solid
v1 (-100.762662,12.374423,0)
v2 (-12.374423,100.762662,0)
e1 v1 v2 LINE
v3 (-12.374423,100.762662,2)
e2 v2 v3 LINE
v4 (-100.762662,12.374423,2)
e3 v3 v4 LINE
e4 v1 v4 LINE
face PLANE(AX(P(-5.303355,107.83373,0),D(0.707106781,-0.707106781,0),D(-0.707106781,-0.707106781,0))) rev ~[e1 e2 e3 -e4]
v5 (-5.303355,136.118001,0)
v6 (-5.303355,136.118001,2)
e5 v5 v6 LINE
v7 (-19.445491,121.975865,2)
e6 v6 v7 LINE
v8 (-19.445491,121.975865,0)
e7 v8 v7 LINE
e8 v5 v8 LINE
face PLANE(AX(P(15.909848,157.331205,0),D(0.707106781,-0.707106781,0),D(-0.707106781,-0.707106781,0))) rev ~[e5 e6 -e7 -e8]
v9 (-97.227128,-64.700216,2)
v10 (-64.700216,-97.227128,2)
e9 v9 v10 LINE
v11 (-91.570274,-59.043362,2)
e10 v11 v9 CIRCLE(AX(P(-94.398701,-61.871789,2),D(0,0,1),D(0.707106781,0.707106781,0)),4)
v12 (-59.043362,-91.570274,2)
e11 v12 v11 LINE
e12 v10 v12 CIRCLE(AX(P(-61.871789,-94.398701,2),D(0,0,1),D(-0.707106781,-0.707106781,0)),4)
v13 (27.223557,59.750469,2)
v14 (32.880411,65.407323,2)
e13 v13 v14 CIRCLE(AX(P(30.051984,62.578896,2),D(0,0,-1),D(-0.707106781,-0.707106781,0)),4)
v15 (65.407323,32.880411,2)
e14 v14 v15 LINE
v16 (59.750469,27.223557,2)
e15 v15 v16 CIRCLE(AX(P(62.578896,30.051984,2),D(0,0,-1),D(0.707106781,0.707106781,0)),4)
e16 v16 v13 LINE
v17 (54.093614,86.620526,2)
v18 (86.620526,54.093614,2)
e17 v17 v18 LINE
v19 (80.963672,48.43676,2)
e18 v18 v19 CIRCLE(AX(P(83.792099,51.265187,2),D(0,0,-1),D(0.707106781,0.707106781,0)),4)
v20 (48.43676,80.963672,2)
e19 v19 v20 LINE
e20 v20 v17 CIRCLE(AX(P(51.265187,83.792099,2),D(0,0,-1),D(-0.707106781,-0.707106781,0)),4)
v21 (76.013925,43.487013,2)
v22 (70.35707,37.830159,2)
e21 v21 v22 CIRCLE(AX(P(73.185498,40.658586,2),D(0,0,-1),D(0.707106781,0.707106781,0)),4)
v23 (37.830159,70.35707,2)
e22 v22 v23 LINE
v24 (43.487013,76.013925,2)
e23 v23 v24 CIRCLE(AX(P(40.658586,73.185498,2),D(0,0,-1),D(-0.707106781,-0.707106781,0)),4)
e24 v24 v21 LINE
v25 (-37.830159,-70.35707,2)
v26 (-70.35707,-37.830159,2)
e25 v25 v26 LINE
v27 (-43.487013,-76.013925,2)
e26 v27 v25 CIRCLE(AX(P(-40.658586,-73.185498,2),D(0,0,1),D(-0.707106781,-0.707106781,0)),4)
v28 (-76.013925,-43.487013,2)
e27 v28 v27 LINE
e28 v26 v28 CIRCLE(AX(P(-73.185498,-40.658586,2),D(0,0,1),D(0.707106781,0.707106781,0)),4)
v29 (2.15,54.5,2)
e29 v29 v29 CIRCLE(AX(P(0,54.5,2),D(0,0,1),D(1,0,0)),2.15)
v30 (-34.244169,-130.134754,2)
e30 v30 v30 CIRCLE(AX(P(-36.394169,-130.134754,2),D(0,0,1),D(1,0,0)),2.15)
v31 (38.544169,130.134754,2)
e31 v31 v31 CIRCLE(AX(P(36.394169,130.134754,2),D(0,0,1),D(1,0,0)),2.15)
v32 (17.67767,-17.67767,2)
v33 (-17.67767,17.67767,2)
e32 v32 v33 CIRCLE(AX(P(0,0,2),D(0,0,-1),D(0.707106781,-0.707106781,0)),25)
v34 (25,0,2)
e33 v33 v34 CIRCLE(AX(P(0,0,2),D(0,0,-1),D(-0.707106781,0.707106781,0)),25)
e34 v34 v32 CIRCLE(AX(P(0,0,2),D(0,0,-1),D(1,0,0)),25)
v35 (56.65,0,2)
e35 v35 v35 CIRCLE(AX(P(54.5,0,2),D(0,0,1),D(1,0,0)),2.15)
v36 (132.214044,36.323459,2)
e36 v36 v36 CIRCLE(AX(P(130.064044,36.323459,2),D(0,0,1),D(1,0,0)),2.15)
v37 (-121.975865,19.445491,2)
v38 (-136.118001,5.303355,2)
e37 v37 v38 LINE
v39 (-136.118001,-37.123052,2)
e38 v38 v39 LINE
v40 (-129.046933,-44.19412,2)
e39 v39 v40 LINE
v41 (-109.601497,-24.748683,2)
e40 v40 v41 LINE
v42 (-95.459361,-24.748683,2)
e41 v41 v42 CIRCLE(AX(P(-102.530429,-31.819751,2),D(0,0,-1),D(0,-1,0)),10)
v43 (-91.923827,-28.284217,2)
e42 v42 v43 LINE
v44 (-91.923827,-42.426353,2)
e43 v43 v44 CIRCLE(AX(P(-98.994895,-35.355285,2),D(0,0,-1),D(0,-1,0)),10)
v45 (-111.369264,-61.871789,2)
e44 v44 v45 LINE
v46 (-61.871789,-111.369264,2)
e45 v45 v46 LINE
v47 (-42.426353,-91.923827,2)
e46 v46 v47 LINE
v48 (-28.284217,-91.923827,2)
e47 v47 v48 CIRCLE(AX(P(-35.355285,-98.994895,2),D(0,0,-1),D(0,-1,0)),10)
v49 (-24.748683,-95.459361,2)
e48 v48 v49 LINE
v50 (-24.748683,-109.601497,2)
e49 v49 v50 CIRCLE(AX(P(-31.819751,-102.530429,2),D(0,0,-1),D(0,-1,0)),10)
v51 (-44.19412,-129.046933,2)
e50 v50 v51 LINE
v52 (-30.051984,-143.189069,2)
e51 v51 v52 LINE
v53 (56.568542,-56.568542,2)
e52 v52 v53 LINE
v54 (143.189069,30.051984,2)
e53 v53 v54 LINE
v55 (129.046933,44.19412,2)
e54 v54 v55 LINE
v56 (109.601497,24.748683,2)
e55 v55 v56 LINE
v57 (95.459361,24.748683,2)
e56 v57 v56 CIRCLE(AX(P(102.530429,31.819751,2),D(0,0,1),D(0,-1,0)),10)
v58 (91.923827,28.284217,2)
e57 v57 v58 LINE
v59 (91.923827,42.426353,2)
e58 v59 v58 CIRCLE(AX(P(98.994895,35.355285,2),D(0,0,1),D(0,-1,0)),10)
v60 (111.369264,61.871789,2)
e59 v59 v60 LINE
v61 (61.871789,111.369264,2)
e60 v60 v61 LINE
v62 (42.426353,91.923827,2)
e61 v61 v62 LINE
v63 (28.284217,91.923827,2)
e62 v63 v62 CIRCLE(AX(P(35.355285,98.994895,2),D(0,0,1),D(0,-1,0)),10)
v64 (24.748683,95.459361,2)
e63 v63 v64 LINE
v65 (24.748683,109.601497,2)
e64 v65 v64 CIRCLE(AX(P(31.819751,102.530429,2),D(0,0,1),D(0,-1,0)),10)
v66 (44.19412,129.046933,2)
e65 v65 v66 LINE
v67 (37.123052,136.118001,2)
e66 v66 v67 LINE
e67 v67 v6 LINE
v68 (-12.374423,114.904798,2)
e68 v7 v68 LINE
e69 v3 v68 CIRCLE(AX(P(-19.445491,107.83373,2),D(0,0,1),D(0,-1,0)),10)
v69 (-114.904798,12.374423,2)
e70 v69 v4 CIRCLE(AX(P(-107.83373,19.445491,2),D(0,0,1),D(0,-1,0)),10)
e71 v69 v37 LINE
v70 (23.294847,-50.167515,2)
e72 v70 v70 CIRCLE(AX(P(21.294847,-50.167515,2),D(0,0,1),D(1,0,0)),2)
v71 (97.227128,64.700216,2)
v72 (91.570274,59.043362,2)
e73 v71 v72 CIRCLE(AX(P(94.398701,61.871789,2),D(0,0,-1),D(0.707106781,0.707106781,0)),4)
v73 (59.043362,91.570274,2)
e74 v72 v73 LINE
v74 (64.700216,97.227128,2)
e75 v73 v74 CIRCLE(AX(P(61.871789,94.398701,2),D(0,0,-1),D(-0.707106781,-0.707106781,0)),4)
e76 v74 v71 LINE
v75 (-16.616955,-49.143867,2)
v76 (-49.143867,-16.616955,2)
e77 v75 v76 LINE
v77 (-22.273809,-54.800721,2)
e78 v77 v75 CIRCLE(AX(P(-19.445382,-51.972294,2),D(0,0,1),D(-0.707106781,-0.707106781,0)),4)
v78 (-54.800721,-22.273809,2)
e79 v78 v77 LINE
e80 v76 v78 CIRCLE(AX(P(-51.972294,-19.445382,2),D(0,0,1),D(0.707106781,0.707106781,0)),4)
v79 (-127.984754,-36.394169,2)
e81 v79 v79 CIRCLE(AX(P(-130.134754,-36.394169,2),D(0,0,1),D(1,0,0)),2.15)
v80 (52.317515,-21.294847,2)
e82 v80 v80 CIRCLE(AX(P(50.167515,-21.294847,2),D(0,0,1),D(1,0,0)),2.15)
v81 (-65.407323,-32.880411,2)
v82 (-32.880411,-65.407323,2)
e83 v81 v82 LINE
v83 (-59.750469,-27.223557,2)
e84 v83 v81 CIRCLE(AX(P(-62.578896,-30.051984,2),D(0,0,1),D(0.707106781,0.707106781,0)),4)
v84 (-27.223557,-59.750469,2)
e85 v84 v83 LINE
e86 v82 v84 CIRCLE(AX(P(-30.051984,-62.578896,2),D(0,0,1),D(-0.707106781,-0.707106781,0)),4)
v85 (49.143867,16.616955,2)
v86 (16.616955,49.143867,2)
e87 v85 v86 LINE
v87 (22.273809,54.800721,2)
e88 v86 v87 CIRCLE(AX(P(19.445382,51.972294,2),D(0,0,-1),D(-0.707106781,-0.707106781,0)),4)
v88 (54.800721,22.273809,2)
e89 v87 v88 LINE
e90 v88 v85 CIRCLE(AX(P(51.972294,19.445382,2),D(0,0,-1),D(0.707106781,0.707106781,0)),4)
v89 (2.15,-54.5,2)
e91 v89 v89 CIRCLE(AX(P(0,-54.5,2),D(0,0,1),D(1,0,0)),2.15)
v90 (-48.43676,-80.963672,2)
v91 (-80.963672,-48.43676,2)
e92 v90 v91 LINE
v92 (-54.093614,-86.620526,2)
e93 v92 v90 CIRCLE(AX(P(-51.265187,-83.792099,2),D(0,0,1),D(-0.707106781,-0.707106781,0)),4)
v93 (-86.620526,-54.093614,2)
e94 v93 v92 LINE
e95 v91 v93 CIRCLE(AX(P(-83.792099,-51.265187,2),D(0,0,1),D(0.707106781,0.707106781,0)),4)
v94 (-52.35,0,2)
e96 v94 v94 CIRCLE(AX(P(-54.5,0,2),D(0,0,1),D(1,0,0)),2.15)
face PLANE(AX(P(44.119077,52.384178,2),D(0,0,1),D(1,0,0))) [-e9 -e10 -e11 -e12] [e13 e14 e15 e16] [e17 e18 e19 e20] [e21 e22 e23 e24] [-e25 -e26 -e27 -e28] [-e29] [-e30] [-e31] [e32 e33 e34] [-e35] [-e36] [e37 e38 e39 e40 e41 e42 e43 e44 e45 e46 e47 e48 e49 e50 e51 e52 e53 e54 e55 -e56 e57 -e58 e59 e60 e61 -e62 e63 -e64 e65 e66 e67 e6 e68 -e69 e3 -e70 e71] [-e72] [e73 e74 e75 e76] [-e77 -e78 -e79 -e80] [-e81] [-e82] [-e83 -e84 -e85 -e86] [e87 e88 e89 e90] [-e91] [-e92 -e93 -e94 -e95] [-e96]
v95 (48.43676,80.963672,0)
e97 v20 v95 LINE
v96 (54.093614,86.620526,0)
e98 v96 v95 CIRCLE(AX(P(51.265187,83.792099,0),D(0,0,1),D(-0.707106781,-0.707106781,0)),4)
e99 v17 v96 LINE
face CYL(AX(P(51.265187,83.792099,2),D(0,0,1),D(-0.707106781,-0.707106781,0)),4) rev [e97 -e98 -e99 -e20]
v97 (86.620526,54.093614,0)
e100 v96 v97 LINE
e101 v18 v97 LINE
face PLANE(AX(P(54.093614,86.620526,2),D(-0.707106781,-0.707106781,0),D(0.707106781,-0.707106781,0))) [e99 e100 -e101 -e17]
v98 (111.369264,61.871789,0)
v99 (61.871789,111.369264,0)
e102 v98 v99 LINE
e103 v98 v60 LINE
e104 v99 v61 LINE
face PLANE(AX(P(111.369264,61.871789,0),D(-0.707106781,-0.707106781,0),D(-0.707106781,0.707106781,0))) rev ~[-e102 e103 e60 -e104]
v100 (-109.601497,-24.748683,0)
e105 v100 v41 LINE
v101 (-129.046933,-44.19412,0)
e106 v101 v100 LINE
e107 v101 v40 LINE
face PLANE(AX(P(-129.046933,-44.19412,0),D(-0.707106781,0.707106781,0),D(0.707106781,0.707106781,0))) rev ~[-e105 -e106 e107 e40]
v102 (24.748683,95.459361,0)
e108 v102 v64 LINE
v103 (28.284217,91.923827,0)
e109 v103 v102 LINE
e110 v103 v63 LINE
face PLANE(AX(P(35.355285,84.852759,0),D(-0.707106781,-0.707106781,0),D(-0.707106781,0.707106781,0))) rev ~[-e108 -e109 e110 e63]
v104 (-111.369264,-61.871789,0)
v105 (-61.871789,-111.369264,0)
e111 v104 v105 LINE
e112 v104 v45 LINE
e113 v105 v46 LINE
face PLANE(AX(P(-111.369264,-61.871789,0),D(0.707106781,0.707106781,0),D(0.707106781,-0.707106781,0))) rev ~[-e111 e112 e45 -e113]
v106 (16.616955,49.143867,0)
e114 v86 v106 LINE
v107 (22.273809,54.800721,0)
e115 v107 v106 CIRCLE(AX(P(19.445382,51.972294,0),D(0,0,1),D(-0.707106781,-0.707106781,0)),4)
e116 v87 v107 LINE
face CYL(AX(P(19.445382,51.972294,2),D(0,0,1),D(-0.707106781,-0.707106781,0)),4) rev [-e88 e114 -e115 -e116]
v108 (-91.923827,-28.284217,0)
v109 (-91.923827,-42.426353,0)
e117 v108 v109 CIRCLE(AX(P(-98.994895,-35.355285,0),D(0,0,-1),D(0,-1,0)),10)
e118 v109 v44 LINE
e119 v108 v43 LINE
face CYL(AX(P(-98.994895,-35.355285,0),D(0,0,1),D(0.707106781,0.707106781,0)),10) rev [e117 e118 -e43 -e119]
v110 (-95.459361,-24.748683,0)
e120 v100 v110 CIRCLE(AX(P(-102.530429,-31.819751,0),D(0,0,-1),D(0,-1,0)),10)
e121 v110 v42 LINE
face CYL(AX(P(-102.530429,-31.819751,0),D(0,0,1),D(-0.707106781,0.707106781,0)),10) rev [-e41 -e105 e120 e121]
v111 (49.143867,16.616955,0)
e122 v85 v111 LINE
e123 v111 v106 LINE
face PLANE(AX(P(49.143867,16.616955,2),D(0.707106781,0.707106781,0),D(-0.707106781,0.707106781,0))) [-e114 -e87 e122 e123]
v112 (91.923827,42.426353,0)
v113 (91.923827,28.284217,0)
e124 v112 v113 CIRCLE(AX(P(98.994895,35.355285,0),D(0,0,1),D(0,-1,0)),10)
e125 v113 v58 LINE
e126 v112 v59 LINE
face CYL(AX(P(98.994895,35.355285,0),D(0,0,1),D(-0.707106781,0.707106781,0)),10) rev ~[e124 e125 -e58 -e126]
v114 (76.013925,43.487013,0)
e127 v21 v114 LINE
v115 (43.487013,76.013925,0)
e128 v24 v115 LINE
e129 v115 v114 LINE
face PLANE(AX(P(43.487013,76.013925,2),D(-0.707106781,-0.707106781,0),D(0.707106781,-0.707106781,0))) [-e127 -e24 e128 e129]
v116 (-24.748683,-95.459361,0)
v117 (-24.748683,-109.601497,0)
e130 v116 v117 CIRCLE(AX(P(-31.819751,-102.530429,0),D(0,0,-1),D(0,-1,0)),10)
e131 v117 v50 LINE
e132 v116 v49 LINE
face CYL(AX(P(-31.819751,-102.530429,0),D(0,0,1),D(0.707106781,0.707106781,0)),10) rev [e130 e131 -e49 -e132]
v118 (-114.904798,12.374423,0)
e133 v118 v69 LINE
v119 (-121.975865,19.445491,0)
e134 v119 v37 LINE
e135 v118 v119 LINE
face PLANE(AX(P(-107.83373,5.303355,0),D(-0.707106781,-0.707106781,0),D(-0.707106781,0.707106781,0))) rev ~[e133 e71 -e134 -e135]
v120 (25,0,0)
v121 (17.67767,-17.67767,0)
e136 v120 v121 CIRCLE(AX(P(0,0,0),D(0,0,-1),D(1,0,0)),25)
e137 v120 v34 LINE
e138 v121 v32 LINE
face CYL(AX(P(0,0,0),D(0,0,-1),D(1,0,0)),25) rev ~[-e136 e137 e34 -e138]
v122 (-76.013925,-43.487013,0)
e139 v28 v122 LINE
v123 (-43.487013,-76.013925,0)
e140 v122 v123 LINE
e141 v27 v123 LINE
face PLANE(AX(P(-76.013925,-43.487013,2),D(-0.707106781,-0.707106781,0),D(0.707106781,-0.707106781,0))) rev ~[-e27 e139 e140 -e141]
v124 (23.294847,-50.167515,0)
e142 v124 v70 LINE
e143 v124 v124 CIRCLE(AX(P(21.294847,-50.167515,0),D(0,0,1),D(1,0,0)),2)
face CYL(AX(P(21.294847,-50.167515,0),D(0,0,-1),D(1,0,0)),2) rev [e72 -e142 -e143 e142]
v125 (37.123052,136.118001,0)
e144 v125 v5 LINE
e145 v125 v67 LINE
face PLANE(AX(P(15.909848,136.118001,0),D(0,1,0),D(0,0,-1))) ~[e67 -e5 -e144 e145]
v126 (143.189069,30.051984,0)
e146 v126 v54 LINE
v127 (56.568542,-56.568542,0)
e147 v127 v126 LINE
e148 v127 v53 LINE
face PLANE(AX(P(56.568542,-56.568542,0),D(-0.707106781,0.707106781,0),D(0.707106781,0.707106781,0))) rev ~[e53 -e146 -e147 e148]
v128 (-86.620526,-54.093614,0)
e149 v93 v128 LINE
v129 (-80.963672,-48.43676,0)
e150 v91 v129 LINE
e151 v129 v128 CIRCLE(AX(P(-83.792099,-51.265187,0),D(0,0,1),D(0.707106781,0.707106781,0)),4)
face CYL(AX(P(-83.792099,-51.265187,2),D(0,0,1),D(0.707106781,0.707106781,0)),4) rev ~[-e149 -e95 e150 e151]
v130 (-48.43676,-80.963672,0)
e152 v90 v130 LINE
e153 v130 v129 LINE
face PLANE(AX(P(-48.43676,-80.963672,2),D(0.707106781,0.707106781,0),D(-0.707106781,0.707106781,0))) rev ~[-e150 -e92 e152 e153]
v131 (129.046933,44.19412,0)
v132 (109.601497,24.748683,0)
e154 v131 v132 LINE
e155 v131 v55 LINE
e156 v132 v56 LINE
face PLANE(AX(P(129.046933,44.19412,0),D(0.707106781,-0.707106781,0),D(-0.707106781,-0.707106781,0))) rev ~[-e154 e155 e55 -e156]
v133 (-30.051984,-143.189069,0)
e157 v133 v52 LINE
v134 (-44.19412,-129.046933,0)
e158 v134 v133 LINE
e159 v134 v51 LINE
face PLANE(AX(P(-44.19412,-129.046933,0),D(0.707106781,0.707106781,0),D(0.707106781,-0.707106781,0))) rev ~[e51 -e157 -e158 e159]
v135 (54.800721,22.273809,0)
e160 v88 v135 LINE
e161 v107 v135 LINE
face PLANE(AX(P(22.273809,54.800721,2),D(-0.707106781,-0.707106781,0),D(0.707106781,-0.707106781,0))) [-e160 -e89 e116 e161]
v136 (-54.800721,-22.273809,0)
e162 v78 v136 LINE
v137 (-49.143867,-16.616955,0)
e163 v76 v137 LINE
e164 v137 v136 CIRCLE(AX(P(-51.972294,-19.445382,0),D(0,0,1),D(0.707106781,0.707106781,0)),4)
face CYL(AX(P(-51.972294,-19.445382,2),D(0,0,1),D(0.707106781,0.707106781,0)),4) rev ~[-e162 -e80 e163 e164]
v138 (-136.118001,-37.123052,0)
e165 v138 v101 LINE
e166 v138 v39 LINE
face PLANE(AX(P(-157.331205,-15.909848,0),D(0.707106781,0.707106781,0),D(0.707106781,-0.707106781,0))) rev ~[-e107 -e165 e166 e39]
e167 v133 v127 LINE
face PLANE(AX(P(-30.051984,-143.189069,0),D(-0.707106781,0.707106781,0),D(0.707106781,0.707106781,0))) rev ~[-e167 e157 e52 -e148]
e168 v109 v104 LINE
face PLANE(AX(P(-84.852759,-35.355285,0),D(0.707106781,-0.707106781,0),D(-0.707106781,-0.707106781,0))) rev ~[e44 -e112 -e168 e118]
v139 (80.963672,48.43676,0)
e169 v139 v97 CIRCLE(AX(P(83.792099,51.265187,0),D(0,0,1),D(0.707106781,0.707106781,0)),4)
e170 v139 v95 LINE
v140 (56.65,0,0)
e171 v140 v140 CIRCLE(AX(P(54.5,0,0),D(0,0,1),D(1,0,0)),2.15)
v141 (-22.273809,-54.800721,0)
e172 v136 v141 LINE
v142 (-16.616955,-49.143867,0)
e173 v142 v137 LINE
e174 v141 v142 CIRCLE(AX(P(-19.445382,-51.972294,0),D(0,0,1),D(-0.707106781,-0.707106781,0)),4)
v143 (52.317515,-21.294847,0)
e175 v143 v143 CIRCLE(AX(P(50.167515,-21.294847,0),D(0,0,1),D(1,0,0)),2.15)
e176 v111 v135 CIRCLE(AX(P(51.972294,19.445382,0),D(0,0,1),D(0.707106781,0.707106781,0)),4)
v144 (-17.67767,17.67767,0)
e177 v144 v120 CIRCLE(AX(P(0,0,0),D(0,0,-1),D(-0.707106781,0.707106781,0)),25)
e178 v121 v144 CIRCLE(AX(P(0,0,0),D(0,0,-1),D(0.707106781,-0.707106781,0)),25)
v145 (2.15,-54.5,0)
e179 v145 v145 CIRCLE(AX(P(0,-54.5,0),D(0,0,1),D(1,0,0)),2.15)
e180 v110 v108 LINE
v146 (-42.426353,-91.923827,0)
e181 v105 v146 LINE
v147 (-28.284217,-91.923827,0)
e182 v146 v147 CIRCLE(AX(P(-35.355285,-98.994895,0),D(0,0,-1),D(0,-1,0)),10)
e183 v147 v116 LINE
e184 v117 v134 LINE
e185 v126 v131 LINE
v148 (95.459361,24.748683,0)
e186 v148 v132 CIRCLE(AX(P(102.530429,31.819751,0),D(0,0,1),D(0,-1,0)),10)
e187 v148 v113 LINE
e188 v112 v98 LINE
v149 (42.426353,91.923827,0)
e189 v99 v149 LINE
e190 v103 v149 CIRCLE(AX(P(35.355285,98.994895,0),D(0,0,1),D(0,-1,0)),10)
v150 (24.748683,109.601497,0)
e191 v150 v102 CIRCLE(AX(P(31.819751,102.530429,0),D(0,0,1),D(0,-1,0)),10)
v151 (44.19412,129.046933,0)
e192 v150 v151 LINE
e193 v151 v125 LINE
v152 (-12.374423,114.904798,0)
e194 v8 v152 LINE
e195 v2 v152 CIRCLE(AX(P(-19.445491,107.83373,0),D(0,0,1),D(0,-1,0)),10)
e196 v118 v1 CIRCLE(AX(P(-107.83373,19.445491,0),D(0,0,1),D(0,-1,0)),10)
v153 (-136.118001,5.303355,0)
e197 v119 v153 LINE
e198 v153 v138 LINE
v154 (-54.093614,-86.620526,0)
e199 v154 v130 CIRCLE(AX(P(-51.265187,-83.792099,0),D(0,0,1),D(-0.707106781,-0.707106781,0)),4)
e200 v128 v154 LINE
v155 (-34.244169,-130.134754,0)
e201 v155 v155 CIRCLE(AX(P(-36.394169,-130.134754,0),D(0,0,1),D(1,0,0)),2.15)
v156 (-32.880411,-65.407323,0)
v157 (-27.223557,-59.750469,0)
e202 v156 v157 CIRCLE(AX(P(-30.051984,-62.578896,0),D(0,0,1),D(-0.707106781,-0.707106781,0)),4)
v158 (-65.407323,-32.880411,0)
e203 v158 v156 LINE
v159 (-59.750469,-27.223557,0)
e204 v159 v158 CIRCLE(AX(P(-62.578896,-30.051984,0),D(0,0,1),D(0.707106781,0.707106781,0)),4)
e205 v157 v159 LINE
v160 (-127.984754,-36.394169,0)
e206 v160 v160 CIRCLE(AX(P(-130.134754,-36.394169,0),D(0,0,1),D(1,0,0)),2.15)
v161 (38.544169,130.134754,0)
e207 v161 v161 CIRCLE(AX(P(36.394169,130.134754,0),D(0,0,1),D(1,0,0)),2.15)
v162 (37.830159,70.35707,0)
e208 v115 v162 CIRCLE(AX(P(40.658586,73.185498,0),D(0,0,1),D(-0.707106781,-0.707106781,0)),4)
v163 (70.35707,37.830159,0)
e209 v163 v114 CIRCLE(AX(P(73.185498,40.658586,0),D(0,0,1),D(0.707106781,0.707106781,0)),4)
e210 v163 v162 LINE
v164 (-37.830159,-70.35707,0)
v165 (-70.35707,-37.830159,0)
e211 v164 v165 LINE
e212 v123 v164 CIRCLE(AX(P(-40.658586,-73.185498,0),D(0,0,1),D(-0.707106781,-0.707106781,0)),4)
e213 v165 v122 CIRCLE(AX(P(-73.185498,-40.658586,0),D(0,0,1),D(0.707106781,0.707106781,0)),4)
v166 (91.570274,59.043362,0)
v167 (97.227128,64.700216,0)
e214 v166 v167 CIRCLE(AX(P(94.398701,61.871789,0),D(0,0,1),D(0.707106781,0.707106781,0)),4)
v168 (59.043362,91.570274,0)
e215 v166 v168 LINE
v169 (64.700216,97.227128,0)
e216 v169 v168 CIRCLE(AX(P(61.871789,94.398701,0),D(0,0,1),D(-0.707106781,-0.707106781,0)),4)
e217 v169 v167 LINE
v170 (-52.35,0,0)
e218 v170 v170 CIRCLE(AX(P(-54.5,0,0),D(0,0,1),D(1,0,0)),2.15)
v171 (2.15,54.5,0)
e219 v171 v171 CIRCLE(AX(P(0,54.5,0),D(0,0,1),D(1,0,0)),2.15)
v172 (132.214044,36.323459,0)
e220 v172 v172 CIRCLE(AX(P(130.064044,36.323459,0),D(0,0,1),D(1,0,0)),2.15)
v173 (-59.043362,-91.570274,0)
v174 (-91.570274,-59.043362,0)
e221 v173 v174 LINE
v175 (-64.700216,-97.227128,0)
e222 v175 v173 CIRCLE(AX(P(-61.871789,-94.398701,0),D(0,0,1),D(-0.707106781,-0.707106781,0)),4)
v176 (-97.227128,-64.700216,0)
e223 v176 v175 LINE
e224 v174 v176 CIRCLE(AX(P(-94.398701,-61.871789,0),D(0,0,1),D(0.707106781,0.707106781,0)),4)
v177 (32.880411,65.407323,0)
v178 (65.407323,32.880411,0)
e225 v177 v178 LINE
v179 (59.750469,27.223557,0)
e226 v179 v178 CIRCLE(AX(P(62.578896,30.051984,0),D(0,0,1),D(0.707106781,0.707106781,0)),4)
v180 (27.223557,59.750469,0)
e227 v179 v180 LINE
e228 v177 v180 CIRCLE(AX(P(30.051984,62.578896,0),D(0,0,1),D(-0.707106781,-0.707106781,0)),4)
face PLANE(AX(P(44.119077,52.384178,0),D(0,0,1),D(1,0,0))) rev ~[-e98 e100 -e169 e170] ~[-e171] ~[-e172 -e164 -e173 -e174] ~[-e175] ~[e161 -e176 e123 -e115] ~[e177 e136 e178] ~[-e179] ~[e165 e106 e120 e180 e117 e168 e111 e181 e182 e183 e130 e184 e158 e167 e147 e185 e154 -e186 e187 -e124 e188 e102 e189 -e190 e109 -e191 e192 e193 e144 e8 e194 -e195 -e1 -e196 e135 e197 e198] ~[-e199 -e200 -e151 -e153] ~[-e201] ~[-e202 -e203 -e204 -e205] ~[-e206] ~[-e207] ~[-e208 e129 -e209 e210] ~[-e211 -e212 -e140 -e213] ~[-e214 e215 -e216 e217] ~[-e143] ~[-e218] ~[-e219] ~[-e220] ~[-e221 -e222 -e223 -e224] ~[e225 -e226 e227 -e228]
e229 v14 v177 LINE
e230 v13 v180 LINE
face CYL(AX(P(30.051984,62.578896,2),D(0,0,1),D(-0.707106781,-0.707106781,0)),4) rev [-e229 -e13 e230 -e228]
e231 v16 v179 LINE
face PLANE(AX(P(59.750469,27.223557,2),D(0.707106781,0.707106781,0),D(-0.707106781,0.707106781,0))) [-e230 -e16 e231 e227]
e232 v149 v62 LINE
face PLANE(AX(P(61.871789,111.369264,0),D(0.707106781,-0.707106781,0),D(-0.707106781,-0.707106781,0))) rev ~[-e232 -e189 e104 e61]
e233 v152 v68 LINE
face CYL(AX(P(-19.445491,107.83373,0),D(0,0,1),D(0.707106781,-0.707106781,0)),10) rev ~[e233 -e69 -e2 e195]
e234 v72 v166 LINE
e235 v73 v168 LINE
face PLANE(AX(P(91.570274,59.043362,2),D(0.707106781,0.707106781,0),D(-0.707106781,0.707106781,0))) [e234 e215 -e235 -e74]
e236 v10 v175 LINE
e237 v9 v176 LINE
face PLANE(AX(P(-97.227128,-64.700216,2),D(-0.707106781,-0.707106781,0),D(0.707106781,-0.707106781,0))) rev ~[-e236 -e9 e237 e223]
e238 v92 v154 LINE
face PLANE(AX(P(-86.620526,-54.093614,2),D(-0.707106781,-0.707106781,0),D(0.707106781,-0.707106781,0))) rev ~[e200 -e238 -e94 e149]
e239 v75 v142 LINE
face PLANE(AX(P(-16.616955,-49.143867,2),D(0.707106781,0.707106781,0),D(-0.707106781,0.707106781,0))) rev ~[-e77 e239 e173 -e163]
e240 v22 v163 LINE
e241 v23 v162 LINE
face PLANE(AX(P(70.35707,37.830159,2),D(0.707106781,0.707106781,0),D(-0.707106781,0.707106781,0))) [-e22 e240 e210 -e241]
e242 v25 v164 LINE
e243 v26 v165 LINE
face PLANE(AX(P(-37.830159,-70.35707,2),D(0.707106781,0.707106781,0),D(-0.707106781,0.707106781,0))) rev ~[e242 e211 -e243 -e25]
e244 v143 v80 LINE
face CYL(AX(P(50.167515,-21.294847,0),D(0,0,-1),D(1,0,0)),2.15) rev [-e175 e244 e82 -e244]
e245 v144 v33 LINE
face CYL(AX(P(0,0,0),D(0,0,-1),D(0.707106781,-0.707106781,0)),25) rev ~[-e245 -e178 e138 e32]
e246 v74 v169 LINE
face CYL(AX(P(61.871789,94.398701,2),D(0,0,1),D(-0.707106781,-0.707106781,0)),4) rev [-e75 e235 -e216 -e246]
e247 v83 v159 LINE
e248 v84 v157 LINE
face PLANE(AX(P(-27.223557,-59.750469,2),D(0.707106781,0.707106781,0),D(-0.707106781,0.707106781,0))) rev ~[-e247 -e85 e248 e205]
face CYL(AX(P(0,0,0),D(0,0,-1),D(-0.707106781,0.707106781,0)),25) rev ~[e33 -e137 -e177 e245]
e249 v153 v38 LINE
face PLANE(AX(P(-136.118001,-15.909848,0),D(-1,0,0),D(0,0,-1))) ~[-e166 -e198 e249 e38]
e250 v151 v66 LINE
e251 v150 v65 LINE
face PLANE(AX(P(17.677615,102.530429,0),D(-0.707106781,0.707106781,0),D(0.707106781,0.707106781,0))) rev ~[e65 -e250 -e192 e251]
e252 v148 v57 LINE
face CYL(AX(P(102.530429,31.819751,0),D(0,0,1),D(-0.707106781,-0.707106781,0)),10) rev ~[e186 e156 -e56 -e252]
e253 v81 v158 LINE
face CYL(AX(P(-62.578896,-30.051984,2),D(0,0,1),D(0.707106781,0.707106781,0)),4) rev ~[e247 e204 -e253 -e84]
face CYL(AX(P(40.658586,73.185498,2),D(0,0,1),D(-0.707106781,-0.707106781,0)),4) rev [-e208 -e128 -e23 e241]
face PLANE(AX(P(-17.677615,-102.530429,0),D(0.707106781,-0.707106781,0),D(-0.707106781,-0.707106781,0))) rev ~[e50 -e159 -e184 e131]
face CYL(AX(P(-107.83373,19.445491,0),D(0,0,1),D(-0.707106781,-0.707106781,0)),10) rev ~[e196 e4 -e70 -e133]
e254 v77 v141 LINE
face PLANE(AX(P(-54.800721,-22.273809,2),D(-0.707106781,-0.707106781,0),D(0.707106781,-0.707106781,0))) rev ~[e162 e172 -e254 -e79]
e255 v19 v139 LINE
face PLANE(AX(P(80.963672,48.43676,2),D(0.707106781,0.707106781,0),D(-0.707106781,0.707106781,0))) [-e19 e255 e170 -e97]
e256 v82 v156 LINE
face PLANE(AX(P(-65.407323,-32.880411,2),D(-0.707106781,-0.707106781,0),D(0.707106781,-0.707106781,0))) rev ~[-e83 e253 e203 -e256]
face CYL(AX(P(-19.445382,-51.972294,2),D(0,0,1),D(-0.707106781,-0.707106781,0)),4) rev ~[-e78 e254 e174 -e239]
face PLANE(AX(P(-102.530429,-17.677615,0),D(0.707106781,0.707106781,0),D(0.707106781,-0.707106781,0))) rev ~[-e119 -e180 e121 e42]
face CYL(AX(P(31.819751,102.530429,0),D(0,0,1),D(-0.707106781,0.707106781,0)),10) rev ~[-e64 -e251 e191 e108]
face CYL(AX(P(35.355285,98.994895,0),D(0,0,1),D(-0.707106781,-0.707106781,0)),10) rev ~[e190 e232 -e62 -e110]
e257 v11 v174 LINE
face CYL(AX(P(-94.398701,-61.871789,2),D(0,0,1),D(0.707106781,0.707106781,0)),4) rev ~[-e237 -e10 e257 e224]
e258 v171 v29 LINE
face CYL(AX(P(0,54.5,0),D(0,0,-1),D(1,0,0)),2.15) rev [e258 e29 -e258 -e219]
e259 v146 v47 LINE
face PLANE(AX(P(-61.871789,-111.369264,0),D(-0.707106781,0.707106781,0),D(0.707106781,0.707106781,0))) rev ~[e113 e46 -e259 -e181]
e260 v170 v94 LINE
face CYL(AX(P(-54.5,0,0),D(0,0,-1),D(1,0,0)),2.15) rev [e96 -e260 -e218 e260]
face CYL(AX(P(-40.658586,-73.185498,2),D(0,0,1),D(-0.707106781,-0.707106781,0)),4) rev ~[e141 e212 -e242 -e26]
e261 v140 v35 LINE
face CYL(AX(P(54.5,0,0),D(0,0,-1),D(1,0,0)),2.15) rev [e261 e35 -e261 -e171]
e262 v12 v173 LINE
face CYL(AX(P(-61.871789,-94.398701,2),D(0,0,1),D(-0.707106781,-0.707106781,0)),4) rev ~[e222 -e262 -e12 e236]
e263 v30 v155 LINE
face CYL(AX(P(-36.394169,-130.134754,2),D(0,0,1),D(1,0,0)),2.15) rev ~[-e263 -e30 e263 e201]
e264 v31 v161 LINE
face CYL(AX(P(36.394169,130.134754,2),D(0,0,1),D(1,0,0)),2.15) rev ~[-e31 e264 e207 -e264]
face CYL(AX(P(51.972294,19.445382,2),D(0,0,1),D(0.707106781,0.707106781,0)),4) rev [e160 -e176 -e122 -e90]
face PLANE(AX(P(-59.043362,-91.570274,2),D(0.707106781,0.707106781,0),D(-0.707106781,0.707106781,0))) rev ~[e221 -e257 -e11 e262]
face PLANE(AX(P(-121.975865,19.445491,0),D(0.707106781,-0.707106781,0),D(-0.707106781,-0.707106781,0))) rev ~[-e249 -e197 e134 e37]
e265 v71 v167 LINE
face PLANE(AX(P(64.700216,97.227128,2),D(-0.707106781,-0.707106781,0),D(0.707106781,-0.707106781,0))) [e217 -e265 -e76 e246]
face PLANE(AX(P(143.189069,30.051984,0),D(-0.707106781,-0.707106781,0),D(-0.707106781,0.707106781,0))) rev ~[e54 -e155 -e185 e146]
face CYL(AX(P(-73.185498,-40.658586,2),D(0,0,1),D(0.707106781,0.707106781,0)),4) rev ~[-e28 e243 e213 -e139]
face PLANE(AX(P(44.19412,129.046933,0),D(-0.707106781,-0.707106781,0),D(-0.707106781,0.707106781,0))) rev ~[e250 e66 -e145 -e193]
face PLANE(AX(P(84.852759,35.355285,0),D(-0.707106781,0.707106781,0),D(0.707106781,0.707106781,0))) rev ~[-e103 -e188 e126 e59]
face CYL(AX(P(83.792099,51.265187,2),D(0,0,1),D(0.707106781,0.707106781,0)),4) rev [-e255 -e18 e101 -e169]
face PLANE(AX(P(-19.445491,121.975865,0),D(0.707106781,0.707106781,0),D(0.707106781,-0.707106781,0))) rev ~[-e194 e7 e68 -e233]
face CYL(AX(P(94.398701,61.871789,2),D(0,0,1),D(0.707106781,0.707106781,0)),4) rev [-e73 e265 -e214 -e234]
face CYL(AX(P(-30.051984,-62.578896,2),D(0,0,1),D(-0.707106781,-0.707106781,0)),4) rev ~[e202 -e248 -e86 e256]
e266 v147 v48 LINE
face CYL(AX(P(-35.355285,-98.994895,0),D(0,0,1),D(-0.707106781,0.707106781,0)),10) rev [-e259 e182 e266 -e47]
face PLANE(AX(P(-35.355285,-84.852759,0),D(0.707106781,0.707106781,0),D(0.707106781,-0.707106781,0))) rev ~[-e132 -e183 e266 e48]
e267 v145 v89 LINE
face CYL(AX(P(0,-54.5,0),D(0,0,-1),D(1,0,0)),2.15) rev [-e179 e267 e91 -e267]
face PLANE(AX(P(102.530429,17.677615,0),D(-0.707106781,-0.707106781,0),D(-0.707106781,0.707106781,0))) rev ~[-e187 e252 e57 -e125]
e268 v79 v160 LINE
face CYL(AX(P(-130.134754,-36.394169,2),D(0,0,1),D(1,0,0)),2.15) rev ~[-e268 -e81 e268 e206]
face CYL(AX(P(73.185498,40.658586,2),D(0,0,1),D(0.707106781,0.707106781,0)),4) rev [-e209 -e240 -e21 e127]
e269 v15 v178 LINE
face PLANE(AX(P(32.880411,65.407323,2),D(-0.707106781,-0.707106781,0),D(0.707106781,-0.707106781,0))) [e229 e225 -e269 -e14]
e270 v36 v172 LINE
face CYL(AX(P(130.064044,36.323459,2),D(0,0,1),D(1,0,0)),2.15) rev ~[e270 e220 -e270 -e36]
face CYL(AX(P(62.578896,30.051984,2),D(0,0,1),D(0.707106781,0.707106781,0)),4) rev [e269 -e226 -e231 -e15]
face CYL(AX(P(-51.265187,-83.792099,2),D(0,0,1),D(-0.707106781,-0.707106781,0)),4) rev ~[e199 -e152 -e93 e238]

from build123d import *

# Parameters (mm, degrees)
SKETCH1_R          = 2.15
SKETCH1_R_2        = 2
EXTRUDE1_DEPTH     = 2
FILLET1_R          = 10
FILLET2_R          = 10
CHAMFER1_SIZE      = 30
SKETCH3_R          = 2.15
CUT_EXTRUDE1_DEPTH = 3
CUT_EXTRUDE2_DEPTH = 10


with BuildPart() as part:
    # Sketch1 → Extrude1 (new body)
    # profile 1 of 2: a face of its own
    with BuildSketch(Plane.XY):
        with BuildLine():
            Line((-17.67766953, 17.67766953), (-56.568542495, 56.568542495))
            Line((-56.568542495, 56.568542495), (-107.833729857, 5.303355133))
            Line((-107.833729857, 5.303355133), (-121.975865481, 19.445490757))
            Line((-121.975865481, 19.445490757), (-157.33120454, -15.909848303))
            Line((-157.33120454, -15.909848303), (-129.046933293, -44.19411955))
            Line((-129.046933293, -44.19411955), (-102.530428998, -17.677615256))
            Line((-102.530428998, -17.677615256), (-84.852759469, -35.355284785))
            Line((-84.852759469, -35.355284785), (-111.369263763, -61.87178908))
            Line((-111.369263763, -61.87178908), (-110.869178063, -62.37187478))
            Line((-110.869178063, -62.37187478), (-61.87178908, -111.369263763))
            Line((-61.87178908, -111.369263763), (-35.355284785, -84.852759468))
            Line((-35.355284785, -84.852759468), (-17.677615256, -102.530428998))
            Line((-17.677615256, -102.530428998), (-44.19411955, -129.046933293))
            Line((-44.19411955, -129.046933293), (-30.051983927, -143.189068916))
            Line((-30.051983927, -143.189068916), (56.568542495, -56.568542495))
            Line((56.568542495, -56.568542495), (17.67766953, -17.67766953))
            ThreePointArc((17.67766953, -17.67766953), (-17.67766953, -17.67766953), (-17.67766953, 17.67766953))
        make_face()
        with Locations((-54.5, 0)):
            Circle(SKETCH1_R, mode=Mode.SUBTRACT)
        with Locations((0, -54.5)):
            Circle(SKETCH1_R, mode=Mode.SUBTRACT)
        with Locations((21.294846503, -50.167514513)):
            Circle(SKETCH1_R_2, mode=Mode.SUBTRACT)
    # profile 2 of 2: a face of its own
    with BuildSketch(Plane.XY):
        with BuildLine():
            Line((17.677615256, 102.530428998), (44.19411955, 129.046933293))
            Line((44.19411955, 129.046933293), (15.909848303, 157.33120454))
            Line((15.909848303, 157.33120454), (-19.445490757, 121.975865481))
            Line((-19.445490757, 121.975865481), (-5.303355133, 107.833729857))
            Line((-5.303355133, 107.833729857), (-56.568542495, 56.568542495))
            Line((-56.568542495, 56.568542495), (-17.67766953, 17.67766953))
            ThreePointArc((-17.67766953, 17.67766953), (9.567085809, 23.096988313), (25, 0))
            ThreePointArc((25, 0), (23.096988313, -9.567085809), (17.67766953, -17.67766953))
            Line((17.67766953, -17.67766953), (56.568542495, -56.568542495))
            Line((56.568542495, -56.568542495), (143.189068916, 30.051983927))
            Line((143.189068916, 30.051983927), (129.046933293, 44.19411955))
            Line((129.046933293, 44.19411955), (102.530428998, 17.677615256))
            Line((102.530428998, 17.677615256), (84.852759469, 35.355284785))
            Line((84.852759469, 35.355284785), (111.369263763, 61.87178908))
            Line((111.369263763, 61.87178908), (61.87178908, 111.369263763))
            Line((61.87178908, 111.369263763), (35.355284785, 84.852759469))
            Line((35.355284785, 84.852759469), (17.677615256, 102.530428998))
        make_face()
        with Locations((50.167514513, -21.294846503)):
            Circle(SKETCH1_R, mode=Mode.SUBTRACT)
        with Locations((54.5, 0)):
            Circle(SKETCH1_R, mode=Mode.SUBTRACT)
        with Locations((0, 54.5)):
            Circle(SKETCH1_R, mode=Mode.SUBTRACT)
    extrude(amount=EXTRUDE1_DEPTH)

    # Fillet1
    fillet1_edges = [part.edges().sort_by_distance(p)[0] for p in [
        (-107.833729857, 5.303355133, 1),
        (-5.303355133, 107.833729857, 1),
    ]]
    fillet(fillet1_edges, radius=FILLET1_R)

    # Fillet2
    fillet2_edges = [part.edges().sort_by_distance(p)[0] for p in [
        (-17.677615256, -102.530428998, 1),
        (-35.355284785, -84.852759468, 1),
        (-84.852759469, -35.355284785, 1),
        (-102.530428998, -17.677615256, 1),
        (17.677615256, 102.530428998, 1),
        (35.355284785, 84.852759469, 1),
        (84.852759469, 35.355284785, 1),
        (102.530428998, 17.677615256, 1),
    ]]
    fillet(fillet2_edges, radius=FILLET2_R)

    # Chamfer1
    chamfer1_edges = [part.edges().sort_by_distance(p)[0] for p in [
        (-157.33120454, -15.909848303, 1),
        (15.909848303, 157.33120454, 1),
    ]]
    chamfer(chamfer1_edges, length=CHAMFER1_SIZE)

    # Sketch3 → Cut-Extrude1 (cut)
    with BuildSketch(Plane.XY.offset(2)):
        with Locations((130.064043572, 36.323458724)):
            Circle(SKETCH3_R)
        with Locations((36.394169402, 130.13475425)):
            Circle(SKETCH3_R)
        with Locations((-36.3941694, -130.134754248)):
            Circle(SKETCH3_R)
        with Locations((-130.13475425, -36.394169402)):
            Circle(SKETCH3_R)
    extrude(amount=-CUT_EXTRUDE1_DEPTH, mode=Mode.SUBTRACT)

    # Sketch4 → Cut-Extrude2 (cut)
    with BuildSketch(Plane.XY.offset(2)):
        with BuildLine():
            Line((64.700216205, 97.227128139), (97.227128139, 64.700216205))
            ThreePointArc((97.227128139, 64.700216205), (97.227128139, 59.043361955), (91.57027389, 59.043361955))
            Line((91.57027389, 59.043361955), (59.043361955, 91.57027389))
            ThreePointArc((59.043361955, 91.57027389), (59.043361955, 97.227128139), (64.700216205, 97.227128139))
        make_face()
        with BuildLine():
            Line((54.093614487, 86.620526421), (86.620526421, 54.093614487))
            ThreePointArc((86.620526421, 54.093614487), (86.620526421, 48.436760237), (80.963672172, 48.436760237))
            Line((80.963672172, 48.436760237), (48.436760237, 80.963672172))
            ThreePointArc((48.436760237, 80.963672172), (48.436760237, 86.620526421), (54.093614487, 86.620526421))
        make_face()
        with BuildLine():
            Line((43.487012769, 76.013924704), (76.013924704, 43.487012769))
            ThreePointArc((76.013924704, 43.487012769), (76.013924704, 37.83015852), (70.357070454, 37.83015852))
            Line((70.357070454, 37.83015852), (37.83015852, 70.357070454))
            ThreePointArc((37.83015852, 70.357070454), (37.83015852, 76.013924704), (43.487012769, 76.013924704))
        make_face()
        with BuildLine():
            Line((32.880411051, 65.407322986), (65.407322986, 32.880411051))
            ThreePointArc((65.407322986, 32.880411051), (65.407322986, 27.223556802), (59.750468736, 27.223556802))
            Line((59.750468736, 27.223556802), (27.223556802, 59.750468736))
            ThreePointArc((27.223556802, 59.750468736), (27.223556802, 65.407322986), (32.880411051, 65.407322986))
        make_face()
        with BuildLine():
            Line((22.273809333, 54.800721268), (54.800721268, 22.273809333))
            ThreePointArc((54.800721268, 22.273809333), (54.800721268, 16.616955084), (49.143867019, 16.616955084))
            Line((49.143867019, 16.616955084), (16.616955084, 49.143867019))
            ThreePointArc((16.616955084, 49.143867019), (16.616955084, 54.800721268), (22.273809333, 54.800721268))
        make_face()
        with BuildLine():
            Line((-97.227128139, -64.700216205), (-64.700216205, -97.227128139))
            ThreePointArc((-64.700216205, -97.227128139), (-59.043361955, -97.227128139), (-59.043361955, -91.57027389))
            Line((-59.043361955, -91.57027389), (-91.57027389, -59.043361955))
            ThreePointArc((-91.57027389, -59.043361955), (-97.227128139, -59.043361955), (-97.227128139, -64.700216205))
        make_face()
        with BuildLine():
            Line((-86.620526421, -54.093614487), (-54.093614487, -86.620526421))
            ThreePointArc((-54.093614487, -86.620526421), (-48.436760237, -86.620526421), (-48.436760237, -80.963672172))
            Line((-48.436760237, -80.963672172), (-80.963672172, -48.436760237))
            ThreePointArc((-80.963672172, -48.436760237), (-86.620526421, -48.436760237), (-86.620526421, -54.093614487))
        make_face()
        with BuildLine():
            Line((-76.013924704, -43.487012769), (-43.487012769, -76.013924704))
            ThreePointArc((-43.487012769, -76.013924704), (-37.83015852, -76.013924704), (-37.83015852, -70.357070454))
            Line((-37.83015852, -70.357070454), (-70.357070454, -37.83015852))
            ThreePointArc((-70.357070454, -37.83015852), (-76.013924704, -37.83015852), (-76.013924704, -43.487012769))
        make_face()
        with BuildLine():
            Line((-65.407322986, -32.880411051), (-32.880411051, -65.407322986))
            ThreePointArc((-32.880411051, -65.407322986), (-27.223556802, -65.407322986), (-27.223556802, -59.750468736))
            Line((-27.223556802, -59.750468736), (-59.750468736, -27.223556802))
            ThreePointArc((-59.750468736, -27.223556802), (-65.407322986, -27.223556802), (-65.407322986, -32.880411051))
        make_face()
        with BuildLine():
            Line((-54.800721268, -22.273809333), (-22.273809333, -54.800721268))
            ThreePointArc((-22.273809333, -54.800721268), (-16.616955084, -54.800721268), (-16.616955084, -49.143867019))
            Line((-16.616955084, -49.143867019), (-49.143867019, -16.616955084))
            ThreePointArc((-49.143867019, -16.616955084), (-54.800721268, -16.616955084), (-54.800721268, -22.273809333))
        make_face()
    extrude(amount=-CUT_EXTRUDE2_DEPTH, mode=Mode.SUBTRACT)


solid = part.part
